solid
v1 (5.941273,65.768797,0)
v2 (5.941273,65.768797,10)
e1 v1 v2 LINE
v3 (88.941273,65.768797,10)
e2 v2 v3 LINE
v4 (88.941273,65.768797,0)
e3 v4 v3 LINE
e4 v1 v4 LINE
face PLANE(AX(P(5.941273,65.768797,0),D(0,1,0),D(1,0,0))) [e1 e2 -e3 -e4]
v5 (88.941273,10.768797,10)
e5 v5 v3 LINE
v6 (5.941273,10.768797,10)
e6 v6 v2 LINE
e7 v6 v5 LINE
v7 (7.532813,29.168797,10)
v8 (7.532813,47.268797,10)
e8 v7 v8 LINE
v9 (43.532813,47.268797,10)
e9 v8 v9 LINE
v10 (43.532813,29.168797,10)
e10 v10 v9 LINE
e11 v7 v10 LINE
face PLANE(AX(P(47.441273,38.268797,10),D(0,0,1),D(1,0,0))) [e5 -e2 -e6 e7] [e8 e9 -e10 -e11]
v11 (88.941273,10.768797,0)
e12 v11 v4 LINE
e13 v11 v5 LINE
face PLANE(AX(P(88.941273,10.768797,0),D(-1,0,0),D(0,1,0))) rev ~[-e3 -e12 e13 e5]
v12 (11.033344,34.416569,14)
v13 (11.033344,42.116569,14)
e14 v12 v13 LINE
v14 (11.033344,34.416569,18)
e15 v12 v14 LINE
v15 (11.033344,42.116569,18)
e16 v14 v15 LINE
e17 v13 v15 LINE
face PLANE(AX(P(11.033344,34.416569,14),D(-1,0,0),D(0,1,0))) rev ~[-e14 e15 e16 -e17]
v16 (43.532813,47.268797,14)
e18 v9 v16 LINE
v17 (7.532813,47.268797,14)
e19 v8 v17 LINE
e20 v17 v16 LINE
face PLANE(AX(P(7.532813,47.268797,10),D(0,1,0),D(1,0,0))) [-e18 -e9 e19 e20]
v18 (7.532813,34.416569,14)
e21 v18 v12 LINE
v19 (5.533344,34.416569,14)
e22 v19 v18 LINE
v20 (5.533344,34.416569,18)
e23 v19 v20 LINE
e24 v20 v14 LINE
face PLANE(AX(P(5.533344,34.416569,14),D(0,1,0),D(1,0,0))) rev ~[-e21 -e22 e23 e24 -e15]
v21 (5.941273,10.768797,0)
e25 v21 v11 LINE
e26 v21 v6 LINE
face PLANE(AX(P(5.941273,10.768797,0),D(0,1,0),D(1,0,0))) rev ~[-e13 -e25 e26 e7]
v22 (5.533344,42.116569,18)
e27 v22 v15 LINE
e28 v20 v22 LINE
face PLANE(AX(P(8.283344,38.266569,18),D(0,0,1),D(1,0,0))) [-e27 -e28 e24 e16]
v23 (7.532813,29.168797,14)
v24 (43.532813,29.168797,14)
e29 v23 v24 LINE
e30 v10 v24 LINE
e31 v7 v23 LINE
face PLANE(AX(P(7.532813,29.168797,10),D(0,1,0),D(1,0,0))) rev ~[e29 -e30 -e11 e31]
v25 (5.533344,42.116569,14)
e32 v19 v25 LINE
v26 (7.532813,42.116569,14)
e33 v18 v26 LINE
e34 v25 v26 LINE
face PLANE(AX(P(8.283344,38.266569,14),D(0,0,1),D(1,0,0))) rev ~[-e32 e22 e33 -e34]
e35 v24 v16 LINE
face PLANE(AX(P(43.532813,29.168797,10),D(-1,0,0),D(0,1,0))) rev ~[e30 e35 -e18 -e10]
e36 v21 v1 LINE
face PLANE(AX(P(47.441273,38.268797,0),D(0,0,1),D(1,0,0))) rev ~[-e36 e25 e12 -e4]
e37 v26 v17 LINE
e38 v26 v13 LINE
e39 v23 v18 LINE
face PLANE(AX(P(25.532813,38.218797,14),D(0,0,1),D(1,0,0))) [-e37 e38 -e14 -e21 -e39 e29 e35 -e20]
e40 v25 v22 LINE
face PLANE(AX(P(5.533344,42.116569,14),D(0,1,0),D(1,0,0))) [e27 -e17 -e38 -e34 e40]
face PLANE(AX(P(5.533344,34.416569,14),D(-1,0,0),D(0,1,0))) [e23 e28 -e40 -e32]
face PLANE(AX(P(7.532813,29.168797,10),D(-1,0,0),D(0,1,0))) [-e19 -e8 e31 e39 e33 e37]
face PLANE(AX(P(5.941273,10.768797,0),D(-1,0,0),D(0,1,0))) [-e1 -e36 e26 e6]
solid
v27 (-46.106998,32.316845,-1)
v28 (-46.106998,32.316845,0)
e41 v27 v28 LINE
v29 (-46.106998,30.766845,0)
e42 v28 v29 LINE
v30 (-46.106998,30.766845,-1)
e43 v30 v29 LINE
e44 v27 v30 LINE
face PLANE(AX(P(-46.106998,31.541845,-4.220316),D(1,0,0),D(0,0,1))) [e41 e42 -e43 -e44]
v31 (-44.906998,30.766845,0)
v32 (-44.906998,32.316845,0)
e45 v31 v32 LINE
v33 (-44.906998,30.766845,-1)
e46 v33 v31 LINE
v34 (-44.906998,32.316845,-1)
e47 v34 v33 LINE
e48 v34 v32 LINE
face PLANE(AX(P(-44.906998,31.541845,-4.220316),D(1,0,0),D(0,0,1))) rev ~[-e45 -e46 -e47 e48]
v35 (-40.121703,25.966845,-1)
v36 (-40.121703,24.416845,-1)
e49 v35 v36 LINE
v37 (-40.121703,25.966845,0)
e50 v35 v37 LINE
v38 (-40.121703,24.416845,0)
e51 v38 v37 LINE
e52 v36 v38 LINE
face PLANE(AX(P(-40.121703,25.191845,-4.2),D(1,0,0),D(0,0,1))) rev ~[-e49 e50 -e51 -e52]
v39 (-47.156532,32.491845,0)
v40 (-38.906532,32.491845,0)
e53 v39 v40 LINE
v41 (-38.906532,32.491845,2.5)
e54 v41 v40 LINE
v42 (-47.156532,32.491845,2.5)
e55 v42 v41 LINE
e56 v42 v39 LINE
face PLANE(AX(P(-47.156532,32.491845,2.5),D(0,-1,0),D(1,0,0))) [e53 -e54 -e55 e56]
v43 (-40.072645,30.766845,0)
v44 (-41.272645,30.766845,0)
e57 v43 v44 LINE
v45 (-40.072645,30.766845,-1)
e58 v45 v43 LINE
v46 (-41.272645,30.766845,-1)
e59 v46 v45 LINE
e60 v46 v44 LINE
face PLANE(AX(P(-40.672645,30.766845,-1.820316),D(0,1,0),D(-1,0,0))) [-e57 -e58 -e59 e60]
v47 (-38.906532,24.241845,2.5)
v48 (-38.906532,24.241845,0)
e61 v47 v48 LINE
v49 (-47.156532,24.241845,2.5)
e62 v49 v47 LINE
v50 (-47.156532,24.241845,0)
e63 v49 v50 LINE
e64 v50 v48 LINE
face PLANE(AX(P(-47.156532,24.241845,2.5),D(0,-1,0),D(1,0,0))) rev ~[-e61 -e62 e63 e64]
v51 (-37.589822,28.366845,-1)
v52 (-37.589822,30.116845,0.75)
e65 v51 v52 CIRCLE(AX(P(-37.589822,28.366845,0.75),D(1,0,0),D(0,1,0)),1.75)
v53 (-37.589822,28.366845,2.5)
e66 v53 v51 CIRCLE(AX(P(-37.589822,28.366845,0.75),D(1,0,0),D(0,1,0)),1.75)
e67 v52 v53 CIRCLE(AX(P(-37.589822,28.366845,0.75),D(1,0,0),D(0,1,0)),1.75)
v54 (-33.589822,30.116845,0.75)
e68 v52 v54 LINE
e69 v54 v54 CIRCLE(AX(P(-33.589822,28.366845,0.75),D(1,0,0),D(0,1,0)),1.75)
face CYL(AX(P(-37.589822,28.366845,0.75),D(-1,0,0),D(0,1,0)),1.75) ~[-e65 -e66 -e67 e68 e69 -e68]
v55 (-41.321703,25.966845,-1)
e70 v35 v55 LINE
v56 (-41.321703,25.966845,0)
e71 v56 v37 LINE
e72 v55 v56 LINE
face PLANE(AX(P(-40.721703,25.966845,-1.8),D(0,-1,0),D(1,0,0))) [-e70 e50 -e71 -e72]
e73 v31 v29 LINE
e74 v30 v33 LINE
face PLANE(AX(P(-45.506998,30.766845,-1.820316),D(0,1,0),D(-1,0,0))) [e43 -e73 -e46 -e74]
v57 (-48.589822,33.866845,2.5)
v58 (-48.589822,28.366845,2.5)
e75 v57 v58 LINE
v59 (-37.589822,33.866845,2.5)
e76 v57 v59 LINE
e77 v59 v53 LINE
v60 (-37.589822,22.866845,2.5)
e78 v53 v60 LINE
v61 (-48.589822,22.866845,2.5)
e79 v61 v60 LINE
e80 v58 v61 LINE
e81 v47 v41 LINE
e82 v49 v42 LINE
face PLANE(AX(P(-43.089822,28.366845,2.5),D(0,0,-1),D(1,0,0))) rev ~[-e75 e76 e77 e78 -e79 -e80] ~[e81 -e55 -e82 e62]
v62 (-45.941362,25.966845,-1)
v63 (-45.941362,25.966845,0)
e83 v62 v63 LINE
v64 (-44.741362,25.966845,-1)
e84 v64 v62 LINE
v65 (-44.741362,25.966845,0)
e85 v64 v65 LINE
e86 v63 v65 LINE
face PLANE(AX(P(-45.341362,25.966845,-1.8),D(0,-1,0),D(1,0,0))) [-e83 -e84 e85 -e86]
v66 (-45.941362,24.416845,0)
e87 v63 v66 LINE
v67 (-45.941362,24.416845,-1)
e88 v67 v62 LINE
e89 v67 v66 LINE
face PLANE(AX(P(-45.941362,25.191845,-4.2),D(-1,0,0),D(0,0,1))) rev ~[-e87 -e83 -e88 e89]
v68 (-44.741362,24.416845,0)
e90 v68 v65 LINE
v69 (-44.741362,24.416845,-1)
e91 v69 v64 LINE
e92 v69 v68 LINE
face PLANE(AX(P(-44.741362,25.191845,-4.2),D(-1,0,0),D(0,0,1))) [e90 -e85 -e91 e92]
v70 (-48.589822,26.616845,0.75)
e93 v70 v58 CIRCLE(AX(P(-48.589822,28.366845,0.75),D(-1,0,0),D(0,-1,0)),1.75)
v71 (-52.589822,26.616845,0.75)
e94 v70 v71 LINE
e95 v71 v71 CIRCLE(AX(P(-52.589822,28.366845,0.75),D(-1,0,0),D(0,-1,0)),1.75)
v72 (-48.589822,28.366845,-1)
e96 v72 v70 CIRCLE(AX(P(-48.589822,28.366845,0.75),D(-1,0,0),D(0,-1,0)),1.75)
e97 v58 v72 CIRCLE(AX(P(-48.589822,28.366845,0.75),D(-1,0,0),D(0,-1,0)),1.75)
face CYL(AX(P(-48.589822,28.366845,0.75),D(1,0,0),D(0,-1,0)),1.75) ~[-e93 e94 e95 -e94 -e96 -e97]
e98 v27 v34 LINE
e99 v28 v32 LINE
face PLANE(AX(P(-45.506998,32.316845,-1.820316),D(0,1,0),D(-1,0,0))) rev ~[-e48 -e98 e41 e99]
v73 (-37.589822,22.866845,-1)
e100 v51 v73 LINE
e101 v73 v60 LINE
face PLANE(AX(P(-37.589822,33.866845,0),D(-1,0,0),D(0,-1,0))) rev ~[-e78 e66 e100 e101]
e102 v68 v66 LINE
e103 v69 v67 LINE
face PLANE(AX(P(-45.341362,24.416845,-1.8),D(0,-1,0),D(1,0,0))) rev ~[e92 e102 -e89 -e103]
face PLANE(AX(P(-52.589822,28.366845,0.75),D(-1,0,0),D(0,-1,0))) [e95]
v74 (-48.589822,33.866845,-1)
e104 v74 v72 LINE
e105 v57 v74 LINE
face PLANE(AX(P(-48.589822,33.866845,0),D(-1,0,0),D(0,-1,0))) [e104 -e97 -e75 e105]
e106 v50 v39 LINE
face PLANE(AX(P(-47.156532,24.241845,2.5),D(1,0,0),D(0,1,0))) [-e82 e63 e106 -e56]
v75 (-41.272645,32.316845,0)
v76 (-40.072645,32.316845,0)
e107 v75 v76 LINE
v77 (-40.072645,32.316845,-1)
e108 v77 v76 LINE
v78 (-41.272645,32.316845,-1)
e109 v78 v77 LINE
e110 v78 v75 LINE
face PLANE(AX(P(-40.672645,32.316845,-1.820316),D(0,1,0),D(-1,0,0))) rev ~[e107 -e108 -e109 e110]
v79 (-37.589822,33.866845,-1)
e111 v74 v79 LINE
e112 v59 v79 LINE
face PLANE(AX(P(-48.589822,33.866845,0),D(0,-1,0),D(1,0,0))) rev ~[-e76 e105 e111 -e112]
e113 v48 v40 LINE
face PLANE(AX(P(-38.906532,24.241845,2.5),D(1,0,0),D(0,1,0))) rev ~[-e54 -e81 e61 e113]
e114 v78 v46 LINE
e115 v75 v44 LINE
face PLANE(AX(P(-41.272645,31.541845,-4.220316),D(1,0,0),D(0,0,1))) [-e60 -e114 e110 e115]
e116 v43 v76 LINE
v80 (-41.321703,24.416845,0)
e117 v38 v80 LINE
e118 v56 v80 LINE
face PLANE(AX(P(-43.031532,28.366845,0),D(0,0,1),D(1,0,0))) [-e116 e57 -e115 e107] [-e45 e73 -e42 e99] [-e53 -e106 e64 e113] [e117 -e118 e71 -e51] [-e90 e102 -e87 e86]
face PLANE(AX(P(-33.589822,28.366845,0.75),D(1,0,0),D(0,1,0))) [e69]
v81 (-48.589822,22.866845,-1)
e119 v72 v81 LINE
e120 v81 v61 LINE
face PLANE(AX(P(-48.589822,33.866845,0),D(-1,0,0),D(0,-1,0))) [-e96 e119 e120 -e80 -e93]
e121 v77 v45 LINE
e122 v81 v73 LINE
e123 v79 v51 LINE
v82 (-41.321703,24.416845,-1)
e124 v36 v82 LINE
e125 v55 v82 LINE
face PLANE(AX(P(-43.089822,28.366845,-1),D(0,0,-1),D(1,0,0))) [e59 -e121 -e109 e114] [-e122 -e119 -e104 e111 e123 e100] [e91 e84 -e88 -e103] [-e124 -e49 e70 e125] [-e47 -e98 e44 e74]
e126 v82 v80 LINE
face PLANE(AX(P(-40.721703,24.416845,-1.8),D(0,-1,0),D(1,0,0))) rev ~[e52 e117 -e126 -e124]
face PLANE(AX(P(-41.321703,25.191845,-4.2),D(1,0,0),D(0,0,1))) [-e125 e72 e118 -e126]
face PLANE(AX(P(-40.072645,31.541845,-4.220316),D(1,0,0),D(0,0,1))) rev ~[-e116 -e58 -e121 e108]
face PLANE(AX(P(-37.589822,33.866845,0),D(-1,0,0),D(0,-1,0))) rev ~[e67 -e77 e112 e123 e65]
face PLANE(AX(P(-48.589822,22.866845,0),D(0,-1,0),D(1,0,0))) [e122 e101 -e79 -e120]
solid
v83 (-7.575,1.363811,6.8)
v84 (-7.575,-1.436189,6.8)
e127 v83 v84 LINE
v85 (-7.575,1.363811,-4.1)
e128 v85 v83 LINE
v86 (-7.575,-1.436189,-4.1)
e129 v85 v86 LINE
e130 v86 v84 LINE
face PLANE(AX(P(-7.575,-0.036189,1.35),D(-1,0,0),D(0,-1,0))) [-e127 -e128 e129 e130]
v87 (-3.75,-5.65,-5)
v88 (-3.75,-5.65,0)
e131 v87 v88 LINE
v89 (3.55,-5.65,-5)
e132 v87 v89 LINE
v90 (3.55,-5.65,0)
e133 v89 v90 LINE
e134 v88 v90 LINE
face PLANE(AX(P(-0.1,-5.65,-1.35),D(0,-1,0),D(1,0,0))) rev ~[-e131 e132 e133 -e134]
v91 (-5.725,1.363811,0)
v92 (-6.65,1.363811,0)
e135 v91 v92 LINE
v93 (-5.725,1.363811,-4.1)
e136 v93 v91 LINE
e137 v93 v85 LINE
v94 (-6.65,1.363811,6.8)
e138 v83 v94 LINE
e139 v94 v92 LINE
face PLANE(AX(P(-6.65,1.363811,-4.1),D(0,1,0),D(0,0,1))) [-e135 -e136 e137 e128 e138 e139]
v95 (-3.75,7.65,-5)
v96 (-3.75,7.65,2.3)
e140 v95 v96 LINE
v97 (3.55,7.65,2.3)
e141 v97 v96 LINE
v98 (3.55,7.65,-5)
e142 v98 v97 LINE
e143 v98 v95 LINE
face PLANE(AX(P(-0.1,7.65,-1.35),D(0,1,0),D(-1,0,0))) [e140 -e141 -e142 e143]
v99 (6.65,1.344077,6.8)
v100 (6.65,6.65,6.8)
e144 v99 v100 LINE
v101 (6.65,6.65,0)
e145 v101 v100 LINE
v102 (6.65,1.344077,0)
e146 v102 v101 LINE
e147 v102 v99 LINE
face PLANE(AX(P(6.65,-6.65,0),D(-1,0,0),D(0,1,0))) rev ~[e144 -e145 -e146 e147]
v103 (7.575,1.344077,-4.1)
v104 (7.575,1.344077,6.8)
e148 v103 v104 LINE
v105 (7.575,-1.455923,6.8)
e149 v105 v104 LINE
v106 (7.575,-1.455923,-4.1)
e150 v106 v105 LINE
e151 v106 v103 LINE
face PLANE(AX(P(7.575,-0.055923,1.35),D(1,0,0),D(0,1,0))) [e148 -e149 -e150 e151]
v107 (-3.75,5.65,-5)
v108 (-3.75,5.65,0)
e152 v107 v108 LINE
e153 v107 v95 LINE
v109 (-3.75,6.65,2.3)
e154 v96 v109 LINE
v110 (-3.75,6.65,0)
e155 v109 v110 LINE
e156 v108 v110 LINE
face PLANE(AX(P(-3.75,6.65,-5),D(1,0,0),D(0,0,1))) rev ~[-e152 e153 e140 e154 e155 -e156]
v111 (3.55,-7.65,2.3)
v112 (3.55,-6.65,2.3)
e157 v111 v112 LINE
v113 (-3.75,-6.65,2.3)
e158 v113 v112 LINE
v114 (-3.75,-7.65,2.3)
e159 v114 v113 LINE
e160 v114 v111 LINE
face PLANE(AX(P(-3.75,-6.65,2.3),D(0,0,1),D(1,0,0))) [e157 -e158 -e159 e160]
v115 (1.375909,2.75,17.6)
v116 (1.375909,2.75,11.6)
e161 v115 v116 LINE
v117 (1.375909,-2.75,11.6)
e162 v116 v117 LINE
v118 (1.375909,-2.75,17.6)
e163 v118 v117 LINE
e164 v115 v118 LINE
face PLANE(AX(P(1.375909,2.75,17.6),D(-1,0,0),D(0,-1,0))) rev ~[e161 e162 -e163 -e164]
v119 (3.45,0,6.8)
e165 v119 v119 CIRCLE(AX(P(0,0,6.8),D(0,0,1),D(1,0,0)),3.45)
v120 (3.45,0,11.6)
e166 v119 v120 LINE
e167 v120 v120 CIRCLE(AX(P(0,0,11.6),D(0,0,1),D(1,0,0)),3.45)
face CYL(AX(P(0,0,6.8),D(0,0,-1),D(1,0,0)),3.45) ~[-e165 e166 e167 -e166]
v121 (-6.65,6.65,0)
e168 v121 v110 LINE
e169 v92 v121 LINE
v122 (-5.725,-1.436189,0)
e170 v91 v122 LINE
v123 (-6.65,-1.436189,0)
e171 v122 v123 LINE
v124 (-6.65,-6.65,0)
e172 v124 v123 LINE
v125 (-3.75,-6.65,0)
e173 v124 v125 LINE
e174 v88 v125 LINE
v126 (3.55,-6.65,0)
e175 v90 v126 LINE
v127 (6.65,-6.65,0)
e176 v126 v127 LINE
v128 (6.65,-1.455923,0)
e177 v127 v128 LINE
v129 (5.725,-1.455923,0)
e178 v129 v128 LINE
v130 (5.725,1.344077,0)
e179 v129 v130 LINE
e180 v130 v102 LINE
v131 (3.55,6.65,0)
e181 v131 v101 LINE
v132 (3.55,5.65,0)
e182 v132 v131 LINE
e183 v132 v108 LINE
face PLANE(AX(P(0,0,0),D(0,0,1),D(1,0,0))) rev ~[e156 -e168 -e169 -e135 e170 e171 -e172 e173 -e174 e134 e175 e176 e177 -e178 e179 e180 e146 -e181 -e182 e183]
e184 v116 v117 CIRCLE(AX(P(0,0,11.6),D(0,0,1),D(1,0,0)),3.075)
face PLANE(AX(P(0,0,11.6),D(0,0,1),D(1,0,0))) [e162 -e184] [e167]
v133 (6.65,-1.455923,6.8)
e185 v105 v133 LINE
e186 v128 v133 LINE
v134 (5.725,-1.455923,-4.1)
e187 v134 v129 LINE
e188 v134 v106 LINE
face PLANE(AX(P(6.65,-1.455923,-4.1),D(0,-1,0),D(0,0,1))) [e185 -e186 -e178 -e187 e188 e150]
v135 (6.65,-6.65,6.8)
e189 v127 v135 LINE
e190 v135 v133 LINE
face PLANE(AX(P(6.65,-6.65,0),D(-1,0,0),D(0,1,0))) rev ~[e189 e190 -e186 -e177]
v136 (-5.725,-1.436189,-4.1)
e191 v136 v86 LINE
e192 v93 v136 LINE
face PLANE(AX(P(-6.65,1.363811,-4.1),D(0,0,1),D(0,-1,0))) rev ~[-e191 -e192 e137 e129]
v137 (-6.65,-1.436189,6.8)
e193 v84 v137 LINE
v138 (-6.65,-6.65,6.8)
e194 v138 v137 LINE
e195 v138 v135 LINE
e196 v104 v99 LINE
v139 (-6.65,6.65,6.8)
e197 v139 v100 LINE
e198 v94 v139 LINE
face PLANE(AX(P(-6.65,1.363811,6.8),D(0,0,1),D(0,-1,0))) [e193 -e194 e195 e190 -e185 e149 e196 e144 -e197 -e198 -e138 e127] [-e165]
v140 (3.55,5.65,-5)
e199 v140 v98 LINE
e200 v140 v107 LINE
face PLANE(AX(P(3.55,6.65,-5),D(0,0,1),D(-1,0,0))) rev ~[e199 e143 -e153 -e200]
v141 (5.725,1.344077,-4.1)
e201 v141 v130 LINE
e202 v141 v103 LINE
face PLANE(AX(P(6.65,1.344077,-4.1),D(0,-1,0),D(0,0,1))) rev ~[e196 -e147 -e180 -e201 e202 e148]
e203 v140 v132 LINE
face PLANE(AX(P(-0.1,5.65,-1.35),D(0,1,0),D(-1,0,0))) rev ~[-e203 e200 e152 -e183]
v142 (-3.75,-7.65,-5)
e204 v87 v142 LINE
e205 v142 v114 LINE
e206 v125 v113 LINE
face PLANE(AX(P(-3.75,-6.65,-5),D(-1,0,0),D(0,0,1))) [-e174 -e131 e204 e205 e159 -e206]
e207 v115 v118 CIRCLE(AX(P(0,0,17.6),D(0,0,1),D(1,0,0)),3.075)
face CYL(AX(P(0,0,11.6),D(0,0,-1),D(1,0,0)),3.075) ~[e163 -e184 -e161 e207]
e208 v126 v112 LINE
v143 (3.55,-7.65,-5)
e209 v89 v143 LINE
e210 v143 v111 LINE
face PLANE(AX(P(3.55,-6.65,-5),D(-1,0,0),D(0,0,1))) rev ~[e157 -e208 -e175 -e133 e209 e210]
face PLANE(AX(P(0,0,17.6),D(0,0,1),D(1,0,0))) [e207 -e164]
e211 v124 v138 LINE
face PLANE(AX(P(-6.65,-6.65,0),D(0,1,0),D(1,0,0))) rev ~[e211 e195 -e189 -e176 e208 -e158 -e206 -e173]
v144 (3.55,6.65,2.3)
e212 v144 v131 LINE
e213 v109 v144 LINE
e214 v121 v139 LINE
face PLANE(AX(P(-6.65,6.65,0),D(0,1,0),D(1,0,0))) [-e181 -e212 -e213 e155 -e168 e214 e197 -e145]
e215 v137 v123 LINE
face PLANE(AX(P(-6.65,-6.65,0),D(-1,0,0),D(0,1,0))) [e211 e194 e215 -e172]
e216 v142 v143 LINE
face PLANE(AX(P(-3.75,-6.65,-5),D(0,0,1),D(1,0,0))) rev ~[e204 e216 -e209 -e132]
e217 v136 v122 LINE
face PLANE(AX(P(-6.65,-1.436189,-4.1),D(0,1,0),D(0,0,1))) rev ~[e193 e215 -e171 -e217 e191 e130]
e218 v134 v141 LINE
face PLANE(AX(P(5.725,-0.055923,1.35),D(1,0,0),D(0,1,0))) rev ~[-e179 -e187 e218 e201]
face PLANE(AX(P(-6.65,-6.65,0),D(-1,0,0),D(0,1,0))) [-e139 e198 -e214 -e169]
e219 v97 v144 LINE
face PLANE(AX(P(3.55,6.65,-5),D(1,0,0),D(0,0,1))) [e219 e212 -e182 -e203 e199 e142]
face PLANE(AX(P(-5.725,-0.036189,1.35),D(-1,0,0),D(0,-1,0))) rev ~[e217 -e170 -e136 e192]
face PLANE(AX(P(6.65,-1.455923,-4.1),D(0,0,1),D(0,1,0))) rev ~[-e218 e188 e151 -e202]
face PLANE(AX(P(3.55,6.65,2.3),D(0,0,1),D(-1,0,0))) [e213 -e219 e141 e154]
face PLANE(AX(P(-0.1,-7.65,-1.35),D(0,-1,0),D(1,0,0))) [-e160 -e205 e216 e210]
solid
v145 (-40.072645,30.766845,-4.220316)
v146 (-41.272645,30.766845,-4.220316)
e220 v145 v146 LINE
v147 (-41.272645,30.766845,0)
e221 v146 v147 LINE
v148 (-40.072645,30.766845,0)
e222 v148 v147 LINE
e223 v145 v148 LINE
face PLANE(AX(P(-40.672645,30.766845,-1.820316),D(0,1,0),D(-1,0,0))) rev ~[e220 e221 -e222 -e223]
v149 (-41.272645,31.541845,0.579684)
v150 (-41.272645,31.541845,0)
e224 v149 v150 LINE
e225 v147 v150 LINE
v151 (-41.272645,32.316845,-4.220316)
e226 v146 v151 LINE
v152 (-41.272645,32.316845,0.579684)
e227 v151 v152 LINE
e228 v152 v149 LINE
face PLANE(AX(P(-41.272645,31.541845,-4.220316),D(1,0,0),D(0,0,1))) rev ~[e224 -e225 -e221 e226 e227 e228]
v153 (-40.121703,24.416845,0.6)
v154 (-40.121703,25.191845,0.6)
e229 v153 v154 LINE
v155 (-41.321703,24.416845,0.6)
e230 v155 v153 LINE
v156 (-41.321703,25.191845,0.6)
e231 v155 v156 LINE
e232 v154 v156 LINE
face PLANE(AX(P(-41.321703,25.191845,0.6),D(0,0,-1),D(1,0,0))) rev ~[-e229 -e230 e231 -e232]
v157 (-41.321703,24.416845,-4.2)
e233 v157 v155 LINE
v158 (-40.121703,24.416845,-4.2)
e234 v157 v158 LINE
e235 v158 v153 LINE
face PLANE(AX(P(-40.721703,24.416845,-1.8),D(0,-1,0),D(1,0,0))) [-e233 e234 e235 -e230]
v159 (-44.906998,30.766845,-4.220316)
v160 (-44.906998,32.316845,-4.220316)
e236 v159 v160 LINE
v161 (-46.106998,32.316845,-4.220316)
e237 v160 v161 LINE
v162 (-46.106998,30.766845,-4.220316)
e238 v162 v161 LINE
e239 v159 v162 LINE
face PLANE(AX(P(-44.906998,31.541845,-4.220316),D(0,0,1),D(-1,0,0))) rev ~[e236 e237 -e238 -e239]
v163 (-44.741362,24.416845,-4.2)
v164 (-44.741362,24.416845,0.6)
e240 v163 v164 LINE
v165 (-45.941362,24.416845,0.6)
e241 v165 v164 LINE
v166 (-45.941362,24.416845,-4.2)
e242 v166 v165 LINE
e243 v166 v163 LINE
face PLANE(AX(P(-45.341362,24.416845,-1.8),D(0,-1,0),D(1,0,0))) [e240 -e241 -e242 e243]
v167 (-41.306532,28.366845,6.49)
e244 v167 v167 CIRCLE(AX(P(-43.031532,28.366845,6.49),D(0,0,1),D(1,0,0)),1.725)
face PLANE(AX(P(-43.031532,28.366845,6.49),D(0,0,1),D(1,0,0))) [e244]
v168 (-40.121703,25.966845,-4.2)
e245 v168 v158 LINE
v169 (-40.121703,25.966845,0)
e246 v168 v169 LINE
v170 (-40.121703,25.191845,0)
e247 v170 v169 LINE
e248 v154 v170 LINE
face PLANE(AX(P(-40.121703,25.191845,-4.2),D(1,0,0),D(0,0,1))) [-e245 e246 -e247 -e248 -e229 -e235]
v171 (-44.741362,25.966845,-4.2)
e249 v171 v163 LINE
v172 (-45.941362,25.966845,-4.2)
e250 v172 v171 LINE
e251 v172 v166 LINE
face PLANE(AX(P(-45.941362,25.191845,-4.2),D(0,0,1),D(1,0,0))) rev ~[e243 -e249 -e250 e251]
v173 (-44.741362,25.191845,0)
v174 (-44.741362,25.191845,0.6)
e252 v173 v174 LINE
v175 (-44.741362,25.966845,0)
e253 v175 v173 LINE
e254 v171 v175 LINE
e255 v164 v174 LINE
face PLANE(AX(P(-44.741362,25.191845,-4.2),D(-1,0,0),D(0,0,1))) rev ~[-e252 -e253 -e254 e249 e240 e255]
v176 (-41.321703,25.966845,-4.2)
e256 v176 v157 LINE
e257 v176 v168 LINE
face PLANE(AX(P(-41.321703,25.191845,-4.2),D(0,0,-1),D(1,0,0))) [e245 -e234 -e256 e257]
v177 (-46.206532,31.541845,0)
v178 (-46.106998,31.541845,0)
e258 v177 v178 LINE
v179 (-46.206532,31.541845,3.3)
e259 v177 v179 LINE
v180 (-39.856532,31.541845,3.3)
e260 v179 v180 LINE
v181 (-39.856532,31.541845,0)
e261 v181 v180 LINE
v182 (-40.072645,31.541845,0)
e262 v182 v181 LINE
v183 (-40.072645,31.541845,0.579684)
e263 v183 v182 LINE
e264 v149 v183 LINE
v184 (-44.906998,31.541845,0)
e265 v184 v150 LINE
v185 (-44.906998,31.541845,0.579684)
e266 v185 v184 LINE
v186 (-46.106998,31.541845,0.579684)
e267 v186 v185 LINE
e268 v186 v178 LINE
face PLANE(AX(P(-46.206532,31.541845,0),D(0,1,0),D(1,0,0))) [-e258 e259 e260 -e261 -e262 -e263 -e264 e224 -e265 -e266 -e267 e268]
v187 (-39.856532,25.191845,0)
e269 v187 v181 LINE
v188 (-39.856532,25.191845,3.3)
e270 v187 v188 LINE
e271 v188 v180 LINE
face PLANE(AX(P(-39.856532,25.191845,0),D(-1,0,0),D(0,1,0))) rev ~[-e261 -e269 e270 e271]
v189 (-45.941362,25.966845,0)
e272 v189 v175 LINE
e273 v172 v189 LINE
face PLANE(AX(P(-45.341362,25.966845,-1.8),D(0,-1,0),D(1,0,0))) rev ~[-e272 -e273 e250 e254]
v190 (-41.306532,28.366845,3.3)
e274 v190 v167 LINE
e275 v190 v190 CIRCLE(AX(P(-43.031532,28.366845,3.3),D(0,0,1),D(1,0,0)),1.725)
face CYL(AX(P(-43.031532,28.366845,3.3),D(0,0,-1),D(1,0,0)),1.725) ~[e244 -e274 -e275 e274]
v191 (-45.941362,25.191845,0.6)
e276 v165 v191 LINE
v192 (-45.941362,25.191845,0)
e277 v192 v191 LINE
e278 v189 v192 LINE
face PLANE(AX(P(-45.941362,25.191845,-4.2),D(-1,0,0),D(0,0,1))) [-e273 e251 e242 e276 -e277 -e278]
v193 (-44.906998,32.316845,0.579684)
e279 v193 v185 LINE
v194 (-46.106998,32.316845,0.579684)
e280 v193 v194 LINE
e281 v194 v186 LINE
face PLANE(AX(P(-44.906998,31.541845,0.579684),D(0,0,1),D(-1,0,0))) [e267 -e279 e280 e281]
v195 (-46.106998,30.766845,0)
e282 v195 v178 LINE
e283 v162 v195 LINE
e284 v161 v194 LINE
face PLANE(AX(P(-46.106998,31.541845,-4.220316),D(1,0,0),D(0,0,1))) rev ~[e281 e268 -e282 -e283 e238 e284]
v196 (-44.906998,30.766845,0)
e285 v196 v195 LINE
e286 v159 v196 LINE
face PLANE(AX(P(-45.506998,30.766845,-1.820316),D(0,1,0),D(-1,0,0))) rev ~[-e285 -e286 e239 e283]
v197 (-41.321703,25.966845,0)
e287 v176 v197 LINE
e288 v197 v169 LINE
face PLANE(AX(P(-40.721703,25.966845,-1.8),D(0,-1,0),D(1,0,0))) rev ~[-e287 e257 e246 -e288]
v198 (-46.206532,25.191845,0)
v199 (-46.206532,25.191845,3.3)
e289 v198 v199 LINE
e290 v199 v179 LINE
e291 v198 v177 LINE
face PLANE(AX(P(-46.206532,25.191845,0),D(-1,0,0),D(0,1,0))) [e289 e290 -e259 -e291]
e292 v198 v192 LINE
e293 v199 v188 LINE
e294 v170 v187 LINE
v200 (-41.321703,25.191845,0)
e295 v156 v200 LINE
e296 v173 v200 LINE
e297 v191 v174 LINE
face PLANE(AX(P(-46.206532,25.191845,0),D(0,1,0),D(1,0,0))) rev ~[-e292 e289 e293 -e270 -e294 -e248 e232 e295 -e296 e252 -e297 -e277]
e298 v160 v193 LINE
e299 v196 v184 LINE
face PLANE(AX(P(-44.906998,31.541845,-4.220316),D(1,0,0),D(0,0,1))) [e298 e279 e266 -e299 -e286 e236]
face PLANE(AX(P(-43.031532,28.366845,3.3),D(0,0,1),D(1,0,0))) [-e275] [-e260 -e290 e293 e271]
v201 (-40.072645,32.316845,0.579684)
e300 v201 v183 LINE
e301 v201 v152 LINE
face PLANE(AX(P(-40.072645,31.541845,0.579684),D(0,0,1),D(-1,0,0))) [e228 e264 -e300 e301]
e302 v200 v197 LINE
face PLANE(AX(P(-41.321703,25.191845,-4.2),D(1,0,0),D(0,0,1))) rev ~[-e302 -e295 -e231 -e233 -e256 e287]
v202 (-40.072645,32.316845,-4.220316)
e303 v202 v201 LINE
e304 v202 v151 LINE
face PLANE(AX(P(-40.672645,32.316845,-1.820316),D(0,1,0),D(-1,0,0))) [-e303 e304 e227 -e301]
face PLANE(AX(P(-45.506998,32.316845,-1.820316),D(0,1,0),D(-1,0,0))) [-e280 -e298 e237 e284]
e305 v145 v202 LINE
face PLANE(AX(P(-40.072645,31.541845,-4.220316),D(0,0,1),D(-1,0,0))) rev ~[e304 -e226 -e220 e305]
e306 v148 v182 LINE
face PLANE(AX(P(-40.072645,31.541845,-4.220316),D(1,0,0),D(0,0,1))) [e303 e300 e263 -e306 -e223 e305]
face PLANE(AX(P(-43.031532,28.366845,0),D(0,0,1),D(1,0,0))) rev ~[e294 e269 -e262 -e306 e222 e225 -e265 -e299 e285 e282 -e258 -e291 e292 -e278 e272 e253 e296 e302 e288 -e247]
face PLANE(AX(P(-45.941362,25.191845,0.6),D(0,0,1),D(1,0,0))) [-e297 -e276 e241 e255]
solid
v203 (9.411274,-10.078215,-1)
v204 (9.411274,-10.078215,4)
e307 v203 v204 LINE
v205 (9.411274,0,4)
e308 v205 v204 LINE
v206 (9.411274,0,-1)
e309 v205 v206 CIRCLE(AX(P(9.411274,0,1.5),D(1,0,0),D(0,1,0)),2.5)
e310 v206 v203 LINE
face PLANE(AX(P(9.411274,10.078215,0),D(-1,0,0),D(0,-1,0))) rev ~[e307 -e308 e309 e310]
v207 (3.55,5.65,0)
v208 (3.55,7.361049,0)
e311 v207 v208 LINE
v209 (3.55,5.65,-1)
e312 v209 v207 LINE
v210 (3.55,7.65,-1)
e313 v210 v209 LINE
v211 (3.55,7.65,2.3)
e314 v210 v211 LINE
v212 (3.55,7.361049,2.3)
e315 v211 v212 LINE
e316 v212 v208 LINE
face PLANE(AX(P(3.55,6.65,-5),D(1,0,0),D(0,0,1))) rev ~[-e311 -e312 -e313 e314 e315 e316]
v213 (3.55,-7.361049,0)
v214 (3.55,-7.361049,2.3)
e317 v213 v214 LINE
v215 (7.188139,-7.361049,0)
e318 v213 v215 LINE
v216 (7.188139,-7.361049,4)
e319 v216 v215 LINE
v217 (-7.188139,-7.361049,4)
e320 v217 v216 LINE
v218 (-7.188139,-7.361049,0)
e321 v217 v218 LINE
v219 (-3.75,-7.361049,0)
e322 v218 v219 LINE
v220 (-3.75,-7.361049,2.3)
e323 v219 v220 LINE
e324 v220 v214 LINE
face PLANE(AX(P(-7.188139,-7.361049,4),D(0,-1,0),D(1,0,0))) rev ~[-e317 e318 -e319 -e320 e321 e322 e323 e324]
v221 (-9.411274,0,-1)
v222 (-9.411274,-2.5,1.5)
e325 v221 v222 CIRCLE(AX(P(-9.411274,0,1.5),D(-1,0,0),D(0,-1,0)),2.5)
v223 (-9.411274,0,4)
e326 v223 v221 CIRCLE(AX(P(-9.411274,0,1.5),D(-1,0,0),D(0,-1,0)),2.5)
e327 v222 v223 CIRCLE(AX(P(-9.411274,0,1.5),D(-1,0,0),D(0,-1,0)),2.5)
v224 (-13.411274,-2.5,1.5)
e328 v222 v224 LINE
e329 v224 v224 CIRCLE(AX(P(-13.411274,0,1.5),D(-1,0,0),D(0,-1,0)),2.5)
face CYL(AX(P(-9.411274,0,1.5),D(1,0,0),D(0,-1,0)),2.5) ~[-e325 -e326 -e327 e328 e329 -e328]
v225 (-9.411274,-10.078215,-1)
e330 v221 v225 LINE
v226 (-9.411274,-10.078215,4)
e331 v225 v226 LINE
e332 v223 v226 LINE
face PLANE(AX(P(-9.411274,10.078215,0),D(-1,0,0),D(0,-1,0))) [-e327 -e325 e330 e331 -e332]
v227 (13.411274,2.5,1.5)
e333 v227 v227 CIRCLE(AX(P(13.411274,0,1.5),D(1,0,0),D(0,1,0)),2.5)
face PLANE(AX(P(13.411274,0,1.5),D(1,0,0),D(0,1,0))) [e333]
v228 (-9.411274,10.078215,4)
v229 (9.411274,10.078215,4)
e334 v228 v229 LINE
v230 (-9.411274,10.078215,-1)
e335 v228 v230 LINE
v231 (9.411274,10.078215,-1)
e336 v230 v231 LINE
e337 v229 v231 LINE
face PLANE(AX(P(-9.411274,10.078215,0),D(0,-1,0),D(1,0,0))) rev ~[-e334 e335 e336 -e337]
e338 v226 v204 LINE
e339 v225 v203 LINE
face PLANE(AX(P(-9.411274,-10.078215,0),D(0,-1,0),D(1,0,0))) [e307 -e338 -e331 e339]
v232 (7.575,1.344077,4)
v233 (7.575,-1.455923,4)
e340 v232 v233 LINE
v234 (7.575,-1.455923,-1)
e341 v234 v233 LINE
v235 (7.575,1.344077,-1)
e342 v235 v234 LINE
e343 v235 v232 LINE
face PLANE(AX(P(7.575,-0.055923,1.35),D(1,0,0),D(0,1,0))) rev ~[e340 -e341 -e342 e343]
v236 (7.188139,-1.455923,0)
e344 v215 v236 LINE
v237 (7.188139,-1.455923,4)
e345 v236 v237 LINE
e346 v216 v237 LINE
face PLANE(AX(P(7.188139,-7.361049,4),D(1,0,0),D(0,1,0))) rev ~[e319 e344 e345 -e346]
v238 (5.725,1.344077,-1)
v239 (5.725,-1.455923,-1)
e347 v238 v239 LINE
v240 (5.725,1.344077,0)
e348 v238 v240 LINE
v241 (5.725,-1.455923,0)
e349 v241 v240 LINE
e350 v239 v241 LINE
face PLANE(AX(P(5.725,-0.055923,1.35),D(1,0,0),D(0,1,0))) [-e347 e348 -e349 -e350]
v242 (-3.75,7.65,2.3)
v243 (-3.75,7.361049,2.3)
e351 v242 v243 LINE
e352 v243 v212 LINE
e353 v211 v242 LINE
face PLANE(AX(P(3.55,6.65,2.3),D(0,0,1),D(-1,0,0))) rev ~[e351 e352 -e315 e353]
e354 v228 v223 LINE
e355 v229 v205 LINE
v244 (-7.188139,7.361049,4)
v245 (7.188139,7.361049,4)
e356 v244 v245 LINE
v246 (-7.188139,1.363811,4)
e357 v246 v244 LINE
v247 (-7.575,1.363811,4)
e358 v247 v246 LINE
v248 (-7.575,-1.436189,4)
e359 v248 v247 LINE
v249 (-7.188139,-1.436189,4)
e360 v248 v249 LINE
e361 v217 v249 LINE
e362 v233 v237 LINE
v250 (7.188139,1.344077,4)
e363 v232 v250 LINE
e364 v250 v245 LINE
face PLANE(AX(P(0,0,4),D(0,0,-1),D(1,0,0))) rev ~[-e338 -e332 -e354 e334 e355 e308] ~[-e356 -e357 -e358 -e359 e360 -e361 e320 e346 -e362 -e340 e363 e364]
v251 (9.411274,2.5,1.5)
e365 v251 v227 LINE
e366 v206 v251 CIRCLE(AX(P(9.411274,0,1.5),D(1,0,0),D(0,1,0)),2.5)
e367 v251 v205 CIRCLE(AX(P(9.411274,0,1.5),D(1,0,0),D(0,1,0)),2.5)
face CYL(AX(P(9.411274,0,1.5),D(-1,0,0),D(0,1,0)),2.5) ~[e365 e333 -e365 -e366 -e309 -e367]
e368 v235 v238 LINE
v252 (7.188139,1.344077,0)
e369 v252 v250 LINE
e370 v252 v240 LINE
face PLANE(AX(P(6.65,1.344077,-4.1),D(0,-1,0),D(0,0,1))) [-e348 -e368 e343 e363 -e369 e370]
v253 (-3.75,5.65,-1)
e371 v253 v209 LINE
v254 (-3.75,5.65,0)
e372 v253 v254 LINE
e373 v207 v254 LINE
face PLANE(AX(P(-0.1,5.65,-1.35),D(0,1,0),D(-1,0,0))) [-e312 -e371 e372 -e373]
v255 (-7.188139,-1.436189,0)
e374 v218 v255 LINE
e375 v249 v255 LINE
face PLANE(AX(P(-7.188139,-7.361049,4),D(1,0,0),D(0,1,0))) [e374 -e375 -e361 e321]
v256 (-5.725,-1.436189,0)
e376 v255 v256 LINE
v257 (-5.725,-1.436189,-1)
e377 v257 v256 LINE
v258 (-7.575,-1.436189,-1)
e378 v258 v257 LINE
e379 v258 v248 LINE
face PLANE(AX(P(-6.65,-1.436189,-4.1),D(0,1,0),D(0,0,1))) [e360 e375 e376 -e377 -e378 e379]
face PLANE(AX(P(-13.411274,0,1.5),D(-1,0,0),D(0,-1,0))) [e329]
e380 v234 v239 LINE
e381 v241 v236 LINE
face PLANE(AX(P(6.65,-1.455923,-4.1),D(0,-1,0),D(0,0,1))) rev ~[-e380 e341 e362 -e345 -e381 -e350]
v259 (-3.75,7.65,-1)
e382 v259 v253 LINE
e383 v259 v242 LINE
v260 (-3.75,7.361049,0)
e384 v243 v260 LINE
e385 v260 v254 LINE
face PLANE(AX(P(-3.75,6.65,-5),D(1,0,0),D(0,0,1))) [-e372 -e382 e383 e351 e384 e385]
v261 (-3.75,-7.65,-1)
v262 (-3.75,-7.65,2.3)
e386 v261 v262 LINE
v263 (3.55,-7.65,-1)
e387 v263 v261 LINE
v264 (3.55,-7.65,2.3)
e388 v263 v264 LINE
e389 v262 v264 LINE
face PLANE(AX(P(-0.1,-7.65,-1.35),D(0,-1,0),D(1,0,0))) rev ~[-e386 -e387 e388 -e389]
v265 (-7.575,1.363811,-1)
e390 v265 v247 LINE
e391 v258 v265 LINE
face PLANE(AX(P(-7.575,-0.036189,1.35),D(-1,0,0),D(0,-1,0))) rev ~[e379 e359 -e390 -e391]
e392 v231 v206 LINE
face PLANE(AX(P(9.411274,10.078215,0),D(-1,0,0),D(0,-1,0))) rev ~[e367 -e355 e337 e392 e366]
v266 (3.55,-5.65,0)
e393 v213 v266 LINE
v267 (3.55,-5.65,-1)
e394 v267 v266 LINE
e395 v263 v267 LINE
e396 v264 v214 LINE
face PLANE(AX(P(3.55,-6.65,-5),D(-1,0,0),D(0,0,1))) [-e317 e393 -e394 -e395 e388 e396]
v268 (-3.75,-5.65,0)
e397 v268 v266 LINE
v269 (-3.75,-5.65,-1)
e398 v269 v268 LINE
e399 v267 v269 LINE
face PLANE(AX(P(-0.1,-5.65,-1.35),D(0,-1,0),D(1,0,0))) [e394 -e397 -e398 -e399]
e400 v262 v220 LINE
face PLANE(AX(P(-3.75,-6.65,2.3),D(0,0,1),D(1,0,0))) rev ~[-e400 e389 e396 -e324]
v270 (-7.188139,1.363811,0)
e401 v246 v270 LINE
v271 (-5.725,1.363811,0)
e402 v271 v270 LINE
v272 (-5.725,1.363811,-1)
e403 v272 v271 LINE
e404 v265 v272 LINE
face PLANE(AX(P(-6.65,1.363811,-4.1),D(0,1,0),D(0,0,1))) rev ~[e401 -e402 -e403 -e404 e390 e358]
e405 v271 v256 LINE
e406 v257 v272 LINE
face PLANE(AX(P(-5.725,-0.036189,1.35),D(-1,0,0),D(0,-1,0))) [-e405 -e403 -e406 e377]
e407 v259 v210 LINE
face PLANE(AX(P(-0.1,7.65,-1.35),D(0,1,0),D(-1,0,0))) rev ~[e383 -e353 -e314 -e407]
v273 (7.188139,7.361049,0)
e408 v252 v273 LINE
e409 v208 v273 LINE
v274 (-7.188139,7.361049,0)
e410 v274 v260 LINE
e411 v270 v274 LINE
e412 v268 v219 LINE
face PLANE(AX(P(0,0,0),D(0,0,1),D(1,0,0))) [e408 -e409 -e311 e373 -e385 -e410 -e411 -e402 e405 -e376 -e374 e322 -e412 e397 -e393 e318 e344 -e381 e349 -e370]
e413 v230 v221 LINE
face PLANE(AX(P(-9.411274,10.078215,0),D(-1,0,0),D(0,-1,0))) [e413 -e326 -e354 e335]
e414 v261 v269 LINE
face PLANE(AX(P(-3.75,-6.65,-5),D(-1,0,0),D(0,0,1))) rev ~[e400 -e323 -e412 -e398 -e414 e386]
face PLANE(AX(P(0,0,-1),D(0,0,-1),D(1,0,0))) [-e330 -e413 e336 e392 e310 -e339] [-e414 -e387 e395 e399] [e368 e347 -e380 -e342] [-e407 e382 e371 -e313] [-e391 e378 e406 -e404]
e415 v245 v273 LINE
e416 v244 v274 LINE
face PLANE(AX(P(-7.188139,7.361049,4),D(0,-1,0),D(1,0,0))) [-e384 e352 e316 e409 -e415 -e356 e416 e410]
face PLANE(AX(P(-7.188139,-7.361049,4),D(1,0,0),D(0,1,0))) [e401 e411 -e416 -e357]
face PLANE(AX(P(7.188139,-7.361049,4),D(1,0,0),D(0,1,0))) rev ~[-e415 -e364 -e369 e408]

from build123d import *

# Parameters (mm, degrees)
F0_W           = 6.35
F0_H           = 6.35
F1_DEPTH       = 3.3
F3_W           = 1.2
F3_H           = 4.8
F2_W           = 1.2
F2_H           = 4.8
F4_DEPTH       = 0.775
F5_R           = 1.725
F6_DEPTH       = 3.19
F7_W           = 13.3
F7_H           = 13.3
F8_DEPTH       = 6.8
F10_W          = 2.8
F10_H          = 10.9
F9_W           = 2.8
F9_H           = 10.9
F11_DEPTH      = 0.925
F13_W          = 7.3
F13_H          = 7.3
F12_W          = 7.3
F12_H          = 7.3
F14_DEPTH      = 1
F15_R          = 3.45
F16_DEPTH      = 4.8
F17_R          = 3.075
F18_DEPTH      = 6
F20_DEPTH      = 6
F21_W          = 83
F21_H          = 55
F22_DEPTH      = 10
F23_W          = 36
F23_H          = 18.1
F24_DEPTH      = 4
F25_W          = 5.5
F25_H          = 7.7
F26_DEPTH      = 4
F27_W          = 11
F27_H          = 11
F28_DEPTH      = 2.5
F28_DEPTH_BACK = 1
F30_W          = 8.25
F30_H          = 8.25
F31_DEPTH      = 2.5
F32_R          = 1.75
F33_DEPTH      = 4
F34_R          = 1.75
F35_DEPTH      = 4
F36_W          = 18.822548911
F36_H          = 20.1564300805
F37_DEPTH      = 4
F37_DEPTH_BACK = 1
F39_W          = 14.3762780353
F39_H          = 14.7220985964
F40_DEPTH      = 4
F41_R          = 2.5
F42_DEPTH      = 4
F43_R          = 2.5
F44_DEPTH      = 4


with BuildPart() as f1:
    # F0 (on Top) → F1 (new body)
    with BuildSketch(Plane.XY):
        with Locations((-43.0315323174, 28.3668454009)):
            Rectangle(F0_W, F0_H)
    extrude(amount=F1_DEPTH)

    # F3 (on face) + F2 (on face) → F4 (join, symmetric)
    with BuildSketch(Plane(origin=(0, 31.5418454009, 0), x_dir=(-1, 0, 0), z_dir=(0, 1, 0))):
        with Locations((45.50699839, -1.8203162122)):
            Rectangle(F3_W, F3_H)
        with Locations((40.6726454794, -1.8203162122)):
            Rectangle(F3_W, F3_H)
    with BuildSketch(Plane.XZ.offset(-25.1918454009)):
        with Locations((-40.7217028141, -1.8)):
            Rectangle(F2_W, F2_H)
        with Locations((-45.3413618207, -1.8)):
            Rectangle(F2_W, F2_H)
    extrude(amount=F4_DEPTH, both=True, dir=(0, 1, 0))

    # F5 (on face) → F6 (join)
    with BuildSketch(Plane.XY.offset(3.3)):
        with Locations((-43.0315323174, 28.3668454009)):
            Circle(F5_R)
    extrude(amount=F6_DEPTH)


with BuildPart() as f8:
    # F7 (on Top) → F8 (new body)
    with BuildSketch(Plane.XY):
        Rectangle(F7_W, F7_H)
    extrude(amount=F8_DEPTH)

    # F10 (on face) + F9 (on face) → F11 (join, symmetric)
    with BuildSketch(Plane.YZ.offset(6.65)):
        with Locations((-0.0559225006, 1.35)):
            Rectangle(F10_W, F10_H)
    with BuildSketch(Plane(origin=(-6.65, 0, 0), x_dir=(0, -1, 0), z_dir=(-1, 0, 0))):
        with Locations((0.0361891497, 1.35)):
            Rectangle(F9_W, F9_H)
    extrude(amount=F11_DEPTH, both=True, dir=(1, 0, 0))

    # F13 (on face) + F12 (on face) → F14 (join, symmetric)
    with BuildSketch(Plane.XZ.offset(6.65)):
        with Locations((-0.1, -1.35)):
            Rectangle(F13_W, F13_H)
    with BuildSketch(Plane(origin=(0, 6.65, 0), x_dir=(-1, 0, 0), z_dir=(0, 1, 0))):
        with Locations((0.1, -1.35)):
            Rectangle(F12_W, F12_H)
    extrude(amount=F14_DEPTH, both=True, dir=(0, -1, 0))

    # F15 (on face) → F16 (join)
    with BuildSketch(Plane.XY.offset(6.8)):
        Circle(F15_R)
    extrude(amount=F16_DEPTH)

    # F17 (on face) → F18 (join)
    with BuildSketch(Plane.XY.offset(11.6)):
        Circle(F17_R)
    extrude(amount=F18_DEPTH)

    # F19 (on face) → F20 (cut, through all)
    with BuildSketch(Plane.XY.offset(17.6)):
        with BuildLine():
            Line((1.3759087906, 2.75), (1.3759087906, -2.75))
            ThreePointArc((1.3759087906, -2.75), (3.075, 0), (1.3759087906, 2.75))
        make_face()
    extrude(amount=-F20_DEPTH, mode=Mode.SUBTRACT)


with BuildPart() as f22:
    # F21 (on Top) → F22 (new body)
    with BuildSketch(Plane.XY):
        with Locations((47.4412734883, 38.2687970996)):
            Rectangle(F21_W, F21_H)
    extrude(amount=F22_DEPTH)

    # F23 (on face) → F24 (join)
    with BuildSketch(Plane.XY.offset(10)):
        with Locations((25.5328132771, 38.2187970996)):
            Rectangle(F23_W, F23_H)
    extrude(amount=F24_DEPTH)

    # F25 (on face) → F26 (join)
    with BuildSketch(Plane.XY.offset(14)):
        with Locations((8.2833440974, 38.2665689378)):
            Rectangle(F25_W, F25_H)
    extrude(amount=F26_DEPTH)


with BuildPart() as f28:
    # F27 (on face) → F28 (new body, two sides)
    with BuildSketch(Plane(origin=(0, 0, 0), x_dir=(1, 0, 0), z_dir=(0, 0, -1))) as f28_sk:
        with Locations((-43.0898219347, -28.3668454009)):
            Rectangle(F27_W, F27_H)
    extrude(amount=-F28_DEPTH)
    extrude(f28_sk.sketch, amount=F28_DEPTH_BACK)

    # F29: cut F1
    add(f1.part, mode=Mode.SUBTRACT)

    # F30 (on face) → F31 (cut, through all)
    with BuildSketch(Plane.XY.offset(2.5)):
        with Locations((-43.0315323174, 28.3668454009)):
            Rectangle(F30_W, F30_H)
    extrude(amount=-F31_DEPTH, mode=Mode.SUBTRACT)

    # F32 (on face) → F33 (join)
    with BuildSketch(Plane(origin=(-48.5898219347, 0, 0), x_dir=(0, -1, 0), z_dir=(-1, 0, 0))):
        with Locations((-28.3668454009, 0.75)):
            Circle(F32_R)
    extrude(amount=F33_DEPTH)

    # F34 (on face) → F35 (join)
    with BuildSketch(Plane.YZ.offset(-37.5898219347)):
        with Locations((28.3668454009, 0.75)):
            Circle(F34_R)
    extrude(amount=F35_DEPTH)


with BuildPart() as f37:
    # F36 (on face) → F37 (new body, two sides)
    with BuildSketch(Plane(origin=(0, 0, 0), x_dir=(1, 0, 0), z_dir=(0, 0, -1))) as f37_sk:
        Rectangle(F36_W, F36_H)
    extrude(amount=-F37_DEPTH)
    extrude(f37_sk.sketch, amount=F37_DEPTH_BACK)

    # F38: cut F8
    add(f8.part, mode=Mode.SUBTRACT)

    # F39 (on face) → F40 (cut, through all)
    with BuildSketch(Plane.XY.offset(4)):
        Rectangle(F39_W, F39_H)
    extrude(amount=-F40_DEPTH, mode=Mode.SUBTRACT)

    # F41 (on face) → F42 (join)
    with BuildSketch(Plane(origin=(-9.4112744555, 0, 0), x_dir=(0, -1, 0), z_dir=(-1, 0, 0))):
        with Locations((0, 1.5)):
            Circle(F41_R)
    extrude(amount=F42_DEPTH)

    # F43 (on face) → F44 (join)
    with BuildSketch(Plane.YZ.offset(9.4112744555)):
        with Locations((0, 1.5)):
            Circle(F43_R)
    extrude(amount=F44_DEPTH)


solid = Compound([f1.part, f8.part, f22.part, f28.part, f37.part])
